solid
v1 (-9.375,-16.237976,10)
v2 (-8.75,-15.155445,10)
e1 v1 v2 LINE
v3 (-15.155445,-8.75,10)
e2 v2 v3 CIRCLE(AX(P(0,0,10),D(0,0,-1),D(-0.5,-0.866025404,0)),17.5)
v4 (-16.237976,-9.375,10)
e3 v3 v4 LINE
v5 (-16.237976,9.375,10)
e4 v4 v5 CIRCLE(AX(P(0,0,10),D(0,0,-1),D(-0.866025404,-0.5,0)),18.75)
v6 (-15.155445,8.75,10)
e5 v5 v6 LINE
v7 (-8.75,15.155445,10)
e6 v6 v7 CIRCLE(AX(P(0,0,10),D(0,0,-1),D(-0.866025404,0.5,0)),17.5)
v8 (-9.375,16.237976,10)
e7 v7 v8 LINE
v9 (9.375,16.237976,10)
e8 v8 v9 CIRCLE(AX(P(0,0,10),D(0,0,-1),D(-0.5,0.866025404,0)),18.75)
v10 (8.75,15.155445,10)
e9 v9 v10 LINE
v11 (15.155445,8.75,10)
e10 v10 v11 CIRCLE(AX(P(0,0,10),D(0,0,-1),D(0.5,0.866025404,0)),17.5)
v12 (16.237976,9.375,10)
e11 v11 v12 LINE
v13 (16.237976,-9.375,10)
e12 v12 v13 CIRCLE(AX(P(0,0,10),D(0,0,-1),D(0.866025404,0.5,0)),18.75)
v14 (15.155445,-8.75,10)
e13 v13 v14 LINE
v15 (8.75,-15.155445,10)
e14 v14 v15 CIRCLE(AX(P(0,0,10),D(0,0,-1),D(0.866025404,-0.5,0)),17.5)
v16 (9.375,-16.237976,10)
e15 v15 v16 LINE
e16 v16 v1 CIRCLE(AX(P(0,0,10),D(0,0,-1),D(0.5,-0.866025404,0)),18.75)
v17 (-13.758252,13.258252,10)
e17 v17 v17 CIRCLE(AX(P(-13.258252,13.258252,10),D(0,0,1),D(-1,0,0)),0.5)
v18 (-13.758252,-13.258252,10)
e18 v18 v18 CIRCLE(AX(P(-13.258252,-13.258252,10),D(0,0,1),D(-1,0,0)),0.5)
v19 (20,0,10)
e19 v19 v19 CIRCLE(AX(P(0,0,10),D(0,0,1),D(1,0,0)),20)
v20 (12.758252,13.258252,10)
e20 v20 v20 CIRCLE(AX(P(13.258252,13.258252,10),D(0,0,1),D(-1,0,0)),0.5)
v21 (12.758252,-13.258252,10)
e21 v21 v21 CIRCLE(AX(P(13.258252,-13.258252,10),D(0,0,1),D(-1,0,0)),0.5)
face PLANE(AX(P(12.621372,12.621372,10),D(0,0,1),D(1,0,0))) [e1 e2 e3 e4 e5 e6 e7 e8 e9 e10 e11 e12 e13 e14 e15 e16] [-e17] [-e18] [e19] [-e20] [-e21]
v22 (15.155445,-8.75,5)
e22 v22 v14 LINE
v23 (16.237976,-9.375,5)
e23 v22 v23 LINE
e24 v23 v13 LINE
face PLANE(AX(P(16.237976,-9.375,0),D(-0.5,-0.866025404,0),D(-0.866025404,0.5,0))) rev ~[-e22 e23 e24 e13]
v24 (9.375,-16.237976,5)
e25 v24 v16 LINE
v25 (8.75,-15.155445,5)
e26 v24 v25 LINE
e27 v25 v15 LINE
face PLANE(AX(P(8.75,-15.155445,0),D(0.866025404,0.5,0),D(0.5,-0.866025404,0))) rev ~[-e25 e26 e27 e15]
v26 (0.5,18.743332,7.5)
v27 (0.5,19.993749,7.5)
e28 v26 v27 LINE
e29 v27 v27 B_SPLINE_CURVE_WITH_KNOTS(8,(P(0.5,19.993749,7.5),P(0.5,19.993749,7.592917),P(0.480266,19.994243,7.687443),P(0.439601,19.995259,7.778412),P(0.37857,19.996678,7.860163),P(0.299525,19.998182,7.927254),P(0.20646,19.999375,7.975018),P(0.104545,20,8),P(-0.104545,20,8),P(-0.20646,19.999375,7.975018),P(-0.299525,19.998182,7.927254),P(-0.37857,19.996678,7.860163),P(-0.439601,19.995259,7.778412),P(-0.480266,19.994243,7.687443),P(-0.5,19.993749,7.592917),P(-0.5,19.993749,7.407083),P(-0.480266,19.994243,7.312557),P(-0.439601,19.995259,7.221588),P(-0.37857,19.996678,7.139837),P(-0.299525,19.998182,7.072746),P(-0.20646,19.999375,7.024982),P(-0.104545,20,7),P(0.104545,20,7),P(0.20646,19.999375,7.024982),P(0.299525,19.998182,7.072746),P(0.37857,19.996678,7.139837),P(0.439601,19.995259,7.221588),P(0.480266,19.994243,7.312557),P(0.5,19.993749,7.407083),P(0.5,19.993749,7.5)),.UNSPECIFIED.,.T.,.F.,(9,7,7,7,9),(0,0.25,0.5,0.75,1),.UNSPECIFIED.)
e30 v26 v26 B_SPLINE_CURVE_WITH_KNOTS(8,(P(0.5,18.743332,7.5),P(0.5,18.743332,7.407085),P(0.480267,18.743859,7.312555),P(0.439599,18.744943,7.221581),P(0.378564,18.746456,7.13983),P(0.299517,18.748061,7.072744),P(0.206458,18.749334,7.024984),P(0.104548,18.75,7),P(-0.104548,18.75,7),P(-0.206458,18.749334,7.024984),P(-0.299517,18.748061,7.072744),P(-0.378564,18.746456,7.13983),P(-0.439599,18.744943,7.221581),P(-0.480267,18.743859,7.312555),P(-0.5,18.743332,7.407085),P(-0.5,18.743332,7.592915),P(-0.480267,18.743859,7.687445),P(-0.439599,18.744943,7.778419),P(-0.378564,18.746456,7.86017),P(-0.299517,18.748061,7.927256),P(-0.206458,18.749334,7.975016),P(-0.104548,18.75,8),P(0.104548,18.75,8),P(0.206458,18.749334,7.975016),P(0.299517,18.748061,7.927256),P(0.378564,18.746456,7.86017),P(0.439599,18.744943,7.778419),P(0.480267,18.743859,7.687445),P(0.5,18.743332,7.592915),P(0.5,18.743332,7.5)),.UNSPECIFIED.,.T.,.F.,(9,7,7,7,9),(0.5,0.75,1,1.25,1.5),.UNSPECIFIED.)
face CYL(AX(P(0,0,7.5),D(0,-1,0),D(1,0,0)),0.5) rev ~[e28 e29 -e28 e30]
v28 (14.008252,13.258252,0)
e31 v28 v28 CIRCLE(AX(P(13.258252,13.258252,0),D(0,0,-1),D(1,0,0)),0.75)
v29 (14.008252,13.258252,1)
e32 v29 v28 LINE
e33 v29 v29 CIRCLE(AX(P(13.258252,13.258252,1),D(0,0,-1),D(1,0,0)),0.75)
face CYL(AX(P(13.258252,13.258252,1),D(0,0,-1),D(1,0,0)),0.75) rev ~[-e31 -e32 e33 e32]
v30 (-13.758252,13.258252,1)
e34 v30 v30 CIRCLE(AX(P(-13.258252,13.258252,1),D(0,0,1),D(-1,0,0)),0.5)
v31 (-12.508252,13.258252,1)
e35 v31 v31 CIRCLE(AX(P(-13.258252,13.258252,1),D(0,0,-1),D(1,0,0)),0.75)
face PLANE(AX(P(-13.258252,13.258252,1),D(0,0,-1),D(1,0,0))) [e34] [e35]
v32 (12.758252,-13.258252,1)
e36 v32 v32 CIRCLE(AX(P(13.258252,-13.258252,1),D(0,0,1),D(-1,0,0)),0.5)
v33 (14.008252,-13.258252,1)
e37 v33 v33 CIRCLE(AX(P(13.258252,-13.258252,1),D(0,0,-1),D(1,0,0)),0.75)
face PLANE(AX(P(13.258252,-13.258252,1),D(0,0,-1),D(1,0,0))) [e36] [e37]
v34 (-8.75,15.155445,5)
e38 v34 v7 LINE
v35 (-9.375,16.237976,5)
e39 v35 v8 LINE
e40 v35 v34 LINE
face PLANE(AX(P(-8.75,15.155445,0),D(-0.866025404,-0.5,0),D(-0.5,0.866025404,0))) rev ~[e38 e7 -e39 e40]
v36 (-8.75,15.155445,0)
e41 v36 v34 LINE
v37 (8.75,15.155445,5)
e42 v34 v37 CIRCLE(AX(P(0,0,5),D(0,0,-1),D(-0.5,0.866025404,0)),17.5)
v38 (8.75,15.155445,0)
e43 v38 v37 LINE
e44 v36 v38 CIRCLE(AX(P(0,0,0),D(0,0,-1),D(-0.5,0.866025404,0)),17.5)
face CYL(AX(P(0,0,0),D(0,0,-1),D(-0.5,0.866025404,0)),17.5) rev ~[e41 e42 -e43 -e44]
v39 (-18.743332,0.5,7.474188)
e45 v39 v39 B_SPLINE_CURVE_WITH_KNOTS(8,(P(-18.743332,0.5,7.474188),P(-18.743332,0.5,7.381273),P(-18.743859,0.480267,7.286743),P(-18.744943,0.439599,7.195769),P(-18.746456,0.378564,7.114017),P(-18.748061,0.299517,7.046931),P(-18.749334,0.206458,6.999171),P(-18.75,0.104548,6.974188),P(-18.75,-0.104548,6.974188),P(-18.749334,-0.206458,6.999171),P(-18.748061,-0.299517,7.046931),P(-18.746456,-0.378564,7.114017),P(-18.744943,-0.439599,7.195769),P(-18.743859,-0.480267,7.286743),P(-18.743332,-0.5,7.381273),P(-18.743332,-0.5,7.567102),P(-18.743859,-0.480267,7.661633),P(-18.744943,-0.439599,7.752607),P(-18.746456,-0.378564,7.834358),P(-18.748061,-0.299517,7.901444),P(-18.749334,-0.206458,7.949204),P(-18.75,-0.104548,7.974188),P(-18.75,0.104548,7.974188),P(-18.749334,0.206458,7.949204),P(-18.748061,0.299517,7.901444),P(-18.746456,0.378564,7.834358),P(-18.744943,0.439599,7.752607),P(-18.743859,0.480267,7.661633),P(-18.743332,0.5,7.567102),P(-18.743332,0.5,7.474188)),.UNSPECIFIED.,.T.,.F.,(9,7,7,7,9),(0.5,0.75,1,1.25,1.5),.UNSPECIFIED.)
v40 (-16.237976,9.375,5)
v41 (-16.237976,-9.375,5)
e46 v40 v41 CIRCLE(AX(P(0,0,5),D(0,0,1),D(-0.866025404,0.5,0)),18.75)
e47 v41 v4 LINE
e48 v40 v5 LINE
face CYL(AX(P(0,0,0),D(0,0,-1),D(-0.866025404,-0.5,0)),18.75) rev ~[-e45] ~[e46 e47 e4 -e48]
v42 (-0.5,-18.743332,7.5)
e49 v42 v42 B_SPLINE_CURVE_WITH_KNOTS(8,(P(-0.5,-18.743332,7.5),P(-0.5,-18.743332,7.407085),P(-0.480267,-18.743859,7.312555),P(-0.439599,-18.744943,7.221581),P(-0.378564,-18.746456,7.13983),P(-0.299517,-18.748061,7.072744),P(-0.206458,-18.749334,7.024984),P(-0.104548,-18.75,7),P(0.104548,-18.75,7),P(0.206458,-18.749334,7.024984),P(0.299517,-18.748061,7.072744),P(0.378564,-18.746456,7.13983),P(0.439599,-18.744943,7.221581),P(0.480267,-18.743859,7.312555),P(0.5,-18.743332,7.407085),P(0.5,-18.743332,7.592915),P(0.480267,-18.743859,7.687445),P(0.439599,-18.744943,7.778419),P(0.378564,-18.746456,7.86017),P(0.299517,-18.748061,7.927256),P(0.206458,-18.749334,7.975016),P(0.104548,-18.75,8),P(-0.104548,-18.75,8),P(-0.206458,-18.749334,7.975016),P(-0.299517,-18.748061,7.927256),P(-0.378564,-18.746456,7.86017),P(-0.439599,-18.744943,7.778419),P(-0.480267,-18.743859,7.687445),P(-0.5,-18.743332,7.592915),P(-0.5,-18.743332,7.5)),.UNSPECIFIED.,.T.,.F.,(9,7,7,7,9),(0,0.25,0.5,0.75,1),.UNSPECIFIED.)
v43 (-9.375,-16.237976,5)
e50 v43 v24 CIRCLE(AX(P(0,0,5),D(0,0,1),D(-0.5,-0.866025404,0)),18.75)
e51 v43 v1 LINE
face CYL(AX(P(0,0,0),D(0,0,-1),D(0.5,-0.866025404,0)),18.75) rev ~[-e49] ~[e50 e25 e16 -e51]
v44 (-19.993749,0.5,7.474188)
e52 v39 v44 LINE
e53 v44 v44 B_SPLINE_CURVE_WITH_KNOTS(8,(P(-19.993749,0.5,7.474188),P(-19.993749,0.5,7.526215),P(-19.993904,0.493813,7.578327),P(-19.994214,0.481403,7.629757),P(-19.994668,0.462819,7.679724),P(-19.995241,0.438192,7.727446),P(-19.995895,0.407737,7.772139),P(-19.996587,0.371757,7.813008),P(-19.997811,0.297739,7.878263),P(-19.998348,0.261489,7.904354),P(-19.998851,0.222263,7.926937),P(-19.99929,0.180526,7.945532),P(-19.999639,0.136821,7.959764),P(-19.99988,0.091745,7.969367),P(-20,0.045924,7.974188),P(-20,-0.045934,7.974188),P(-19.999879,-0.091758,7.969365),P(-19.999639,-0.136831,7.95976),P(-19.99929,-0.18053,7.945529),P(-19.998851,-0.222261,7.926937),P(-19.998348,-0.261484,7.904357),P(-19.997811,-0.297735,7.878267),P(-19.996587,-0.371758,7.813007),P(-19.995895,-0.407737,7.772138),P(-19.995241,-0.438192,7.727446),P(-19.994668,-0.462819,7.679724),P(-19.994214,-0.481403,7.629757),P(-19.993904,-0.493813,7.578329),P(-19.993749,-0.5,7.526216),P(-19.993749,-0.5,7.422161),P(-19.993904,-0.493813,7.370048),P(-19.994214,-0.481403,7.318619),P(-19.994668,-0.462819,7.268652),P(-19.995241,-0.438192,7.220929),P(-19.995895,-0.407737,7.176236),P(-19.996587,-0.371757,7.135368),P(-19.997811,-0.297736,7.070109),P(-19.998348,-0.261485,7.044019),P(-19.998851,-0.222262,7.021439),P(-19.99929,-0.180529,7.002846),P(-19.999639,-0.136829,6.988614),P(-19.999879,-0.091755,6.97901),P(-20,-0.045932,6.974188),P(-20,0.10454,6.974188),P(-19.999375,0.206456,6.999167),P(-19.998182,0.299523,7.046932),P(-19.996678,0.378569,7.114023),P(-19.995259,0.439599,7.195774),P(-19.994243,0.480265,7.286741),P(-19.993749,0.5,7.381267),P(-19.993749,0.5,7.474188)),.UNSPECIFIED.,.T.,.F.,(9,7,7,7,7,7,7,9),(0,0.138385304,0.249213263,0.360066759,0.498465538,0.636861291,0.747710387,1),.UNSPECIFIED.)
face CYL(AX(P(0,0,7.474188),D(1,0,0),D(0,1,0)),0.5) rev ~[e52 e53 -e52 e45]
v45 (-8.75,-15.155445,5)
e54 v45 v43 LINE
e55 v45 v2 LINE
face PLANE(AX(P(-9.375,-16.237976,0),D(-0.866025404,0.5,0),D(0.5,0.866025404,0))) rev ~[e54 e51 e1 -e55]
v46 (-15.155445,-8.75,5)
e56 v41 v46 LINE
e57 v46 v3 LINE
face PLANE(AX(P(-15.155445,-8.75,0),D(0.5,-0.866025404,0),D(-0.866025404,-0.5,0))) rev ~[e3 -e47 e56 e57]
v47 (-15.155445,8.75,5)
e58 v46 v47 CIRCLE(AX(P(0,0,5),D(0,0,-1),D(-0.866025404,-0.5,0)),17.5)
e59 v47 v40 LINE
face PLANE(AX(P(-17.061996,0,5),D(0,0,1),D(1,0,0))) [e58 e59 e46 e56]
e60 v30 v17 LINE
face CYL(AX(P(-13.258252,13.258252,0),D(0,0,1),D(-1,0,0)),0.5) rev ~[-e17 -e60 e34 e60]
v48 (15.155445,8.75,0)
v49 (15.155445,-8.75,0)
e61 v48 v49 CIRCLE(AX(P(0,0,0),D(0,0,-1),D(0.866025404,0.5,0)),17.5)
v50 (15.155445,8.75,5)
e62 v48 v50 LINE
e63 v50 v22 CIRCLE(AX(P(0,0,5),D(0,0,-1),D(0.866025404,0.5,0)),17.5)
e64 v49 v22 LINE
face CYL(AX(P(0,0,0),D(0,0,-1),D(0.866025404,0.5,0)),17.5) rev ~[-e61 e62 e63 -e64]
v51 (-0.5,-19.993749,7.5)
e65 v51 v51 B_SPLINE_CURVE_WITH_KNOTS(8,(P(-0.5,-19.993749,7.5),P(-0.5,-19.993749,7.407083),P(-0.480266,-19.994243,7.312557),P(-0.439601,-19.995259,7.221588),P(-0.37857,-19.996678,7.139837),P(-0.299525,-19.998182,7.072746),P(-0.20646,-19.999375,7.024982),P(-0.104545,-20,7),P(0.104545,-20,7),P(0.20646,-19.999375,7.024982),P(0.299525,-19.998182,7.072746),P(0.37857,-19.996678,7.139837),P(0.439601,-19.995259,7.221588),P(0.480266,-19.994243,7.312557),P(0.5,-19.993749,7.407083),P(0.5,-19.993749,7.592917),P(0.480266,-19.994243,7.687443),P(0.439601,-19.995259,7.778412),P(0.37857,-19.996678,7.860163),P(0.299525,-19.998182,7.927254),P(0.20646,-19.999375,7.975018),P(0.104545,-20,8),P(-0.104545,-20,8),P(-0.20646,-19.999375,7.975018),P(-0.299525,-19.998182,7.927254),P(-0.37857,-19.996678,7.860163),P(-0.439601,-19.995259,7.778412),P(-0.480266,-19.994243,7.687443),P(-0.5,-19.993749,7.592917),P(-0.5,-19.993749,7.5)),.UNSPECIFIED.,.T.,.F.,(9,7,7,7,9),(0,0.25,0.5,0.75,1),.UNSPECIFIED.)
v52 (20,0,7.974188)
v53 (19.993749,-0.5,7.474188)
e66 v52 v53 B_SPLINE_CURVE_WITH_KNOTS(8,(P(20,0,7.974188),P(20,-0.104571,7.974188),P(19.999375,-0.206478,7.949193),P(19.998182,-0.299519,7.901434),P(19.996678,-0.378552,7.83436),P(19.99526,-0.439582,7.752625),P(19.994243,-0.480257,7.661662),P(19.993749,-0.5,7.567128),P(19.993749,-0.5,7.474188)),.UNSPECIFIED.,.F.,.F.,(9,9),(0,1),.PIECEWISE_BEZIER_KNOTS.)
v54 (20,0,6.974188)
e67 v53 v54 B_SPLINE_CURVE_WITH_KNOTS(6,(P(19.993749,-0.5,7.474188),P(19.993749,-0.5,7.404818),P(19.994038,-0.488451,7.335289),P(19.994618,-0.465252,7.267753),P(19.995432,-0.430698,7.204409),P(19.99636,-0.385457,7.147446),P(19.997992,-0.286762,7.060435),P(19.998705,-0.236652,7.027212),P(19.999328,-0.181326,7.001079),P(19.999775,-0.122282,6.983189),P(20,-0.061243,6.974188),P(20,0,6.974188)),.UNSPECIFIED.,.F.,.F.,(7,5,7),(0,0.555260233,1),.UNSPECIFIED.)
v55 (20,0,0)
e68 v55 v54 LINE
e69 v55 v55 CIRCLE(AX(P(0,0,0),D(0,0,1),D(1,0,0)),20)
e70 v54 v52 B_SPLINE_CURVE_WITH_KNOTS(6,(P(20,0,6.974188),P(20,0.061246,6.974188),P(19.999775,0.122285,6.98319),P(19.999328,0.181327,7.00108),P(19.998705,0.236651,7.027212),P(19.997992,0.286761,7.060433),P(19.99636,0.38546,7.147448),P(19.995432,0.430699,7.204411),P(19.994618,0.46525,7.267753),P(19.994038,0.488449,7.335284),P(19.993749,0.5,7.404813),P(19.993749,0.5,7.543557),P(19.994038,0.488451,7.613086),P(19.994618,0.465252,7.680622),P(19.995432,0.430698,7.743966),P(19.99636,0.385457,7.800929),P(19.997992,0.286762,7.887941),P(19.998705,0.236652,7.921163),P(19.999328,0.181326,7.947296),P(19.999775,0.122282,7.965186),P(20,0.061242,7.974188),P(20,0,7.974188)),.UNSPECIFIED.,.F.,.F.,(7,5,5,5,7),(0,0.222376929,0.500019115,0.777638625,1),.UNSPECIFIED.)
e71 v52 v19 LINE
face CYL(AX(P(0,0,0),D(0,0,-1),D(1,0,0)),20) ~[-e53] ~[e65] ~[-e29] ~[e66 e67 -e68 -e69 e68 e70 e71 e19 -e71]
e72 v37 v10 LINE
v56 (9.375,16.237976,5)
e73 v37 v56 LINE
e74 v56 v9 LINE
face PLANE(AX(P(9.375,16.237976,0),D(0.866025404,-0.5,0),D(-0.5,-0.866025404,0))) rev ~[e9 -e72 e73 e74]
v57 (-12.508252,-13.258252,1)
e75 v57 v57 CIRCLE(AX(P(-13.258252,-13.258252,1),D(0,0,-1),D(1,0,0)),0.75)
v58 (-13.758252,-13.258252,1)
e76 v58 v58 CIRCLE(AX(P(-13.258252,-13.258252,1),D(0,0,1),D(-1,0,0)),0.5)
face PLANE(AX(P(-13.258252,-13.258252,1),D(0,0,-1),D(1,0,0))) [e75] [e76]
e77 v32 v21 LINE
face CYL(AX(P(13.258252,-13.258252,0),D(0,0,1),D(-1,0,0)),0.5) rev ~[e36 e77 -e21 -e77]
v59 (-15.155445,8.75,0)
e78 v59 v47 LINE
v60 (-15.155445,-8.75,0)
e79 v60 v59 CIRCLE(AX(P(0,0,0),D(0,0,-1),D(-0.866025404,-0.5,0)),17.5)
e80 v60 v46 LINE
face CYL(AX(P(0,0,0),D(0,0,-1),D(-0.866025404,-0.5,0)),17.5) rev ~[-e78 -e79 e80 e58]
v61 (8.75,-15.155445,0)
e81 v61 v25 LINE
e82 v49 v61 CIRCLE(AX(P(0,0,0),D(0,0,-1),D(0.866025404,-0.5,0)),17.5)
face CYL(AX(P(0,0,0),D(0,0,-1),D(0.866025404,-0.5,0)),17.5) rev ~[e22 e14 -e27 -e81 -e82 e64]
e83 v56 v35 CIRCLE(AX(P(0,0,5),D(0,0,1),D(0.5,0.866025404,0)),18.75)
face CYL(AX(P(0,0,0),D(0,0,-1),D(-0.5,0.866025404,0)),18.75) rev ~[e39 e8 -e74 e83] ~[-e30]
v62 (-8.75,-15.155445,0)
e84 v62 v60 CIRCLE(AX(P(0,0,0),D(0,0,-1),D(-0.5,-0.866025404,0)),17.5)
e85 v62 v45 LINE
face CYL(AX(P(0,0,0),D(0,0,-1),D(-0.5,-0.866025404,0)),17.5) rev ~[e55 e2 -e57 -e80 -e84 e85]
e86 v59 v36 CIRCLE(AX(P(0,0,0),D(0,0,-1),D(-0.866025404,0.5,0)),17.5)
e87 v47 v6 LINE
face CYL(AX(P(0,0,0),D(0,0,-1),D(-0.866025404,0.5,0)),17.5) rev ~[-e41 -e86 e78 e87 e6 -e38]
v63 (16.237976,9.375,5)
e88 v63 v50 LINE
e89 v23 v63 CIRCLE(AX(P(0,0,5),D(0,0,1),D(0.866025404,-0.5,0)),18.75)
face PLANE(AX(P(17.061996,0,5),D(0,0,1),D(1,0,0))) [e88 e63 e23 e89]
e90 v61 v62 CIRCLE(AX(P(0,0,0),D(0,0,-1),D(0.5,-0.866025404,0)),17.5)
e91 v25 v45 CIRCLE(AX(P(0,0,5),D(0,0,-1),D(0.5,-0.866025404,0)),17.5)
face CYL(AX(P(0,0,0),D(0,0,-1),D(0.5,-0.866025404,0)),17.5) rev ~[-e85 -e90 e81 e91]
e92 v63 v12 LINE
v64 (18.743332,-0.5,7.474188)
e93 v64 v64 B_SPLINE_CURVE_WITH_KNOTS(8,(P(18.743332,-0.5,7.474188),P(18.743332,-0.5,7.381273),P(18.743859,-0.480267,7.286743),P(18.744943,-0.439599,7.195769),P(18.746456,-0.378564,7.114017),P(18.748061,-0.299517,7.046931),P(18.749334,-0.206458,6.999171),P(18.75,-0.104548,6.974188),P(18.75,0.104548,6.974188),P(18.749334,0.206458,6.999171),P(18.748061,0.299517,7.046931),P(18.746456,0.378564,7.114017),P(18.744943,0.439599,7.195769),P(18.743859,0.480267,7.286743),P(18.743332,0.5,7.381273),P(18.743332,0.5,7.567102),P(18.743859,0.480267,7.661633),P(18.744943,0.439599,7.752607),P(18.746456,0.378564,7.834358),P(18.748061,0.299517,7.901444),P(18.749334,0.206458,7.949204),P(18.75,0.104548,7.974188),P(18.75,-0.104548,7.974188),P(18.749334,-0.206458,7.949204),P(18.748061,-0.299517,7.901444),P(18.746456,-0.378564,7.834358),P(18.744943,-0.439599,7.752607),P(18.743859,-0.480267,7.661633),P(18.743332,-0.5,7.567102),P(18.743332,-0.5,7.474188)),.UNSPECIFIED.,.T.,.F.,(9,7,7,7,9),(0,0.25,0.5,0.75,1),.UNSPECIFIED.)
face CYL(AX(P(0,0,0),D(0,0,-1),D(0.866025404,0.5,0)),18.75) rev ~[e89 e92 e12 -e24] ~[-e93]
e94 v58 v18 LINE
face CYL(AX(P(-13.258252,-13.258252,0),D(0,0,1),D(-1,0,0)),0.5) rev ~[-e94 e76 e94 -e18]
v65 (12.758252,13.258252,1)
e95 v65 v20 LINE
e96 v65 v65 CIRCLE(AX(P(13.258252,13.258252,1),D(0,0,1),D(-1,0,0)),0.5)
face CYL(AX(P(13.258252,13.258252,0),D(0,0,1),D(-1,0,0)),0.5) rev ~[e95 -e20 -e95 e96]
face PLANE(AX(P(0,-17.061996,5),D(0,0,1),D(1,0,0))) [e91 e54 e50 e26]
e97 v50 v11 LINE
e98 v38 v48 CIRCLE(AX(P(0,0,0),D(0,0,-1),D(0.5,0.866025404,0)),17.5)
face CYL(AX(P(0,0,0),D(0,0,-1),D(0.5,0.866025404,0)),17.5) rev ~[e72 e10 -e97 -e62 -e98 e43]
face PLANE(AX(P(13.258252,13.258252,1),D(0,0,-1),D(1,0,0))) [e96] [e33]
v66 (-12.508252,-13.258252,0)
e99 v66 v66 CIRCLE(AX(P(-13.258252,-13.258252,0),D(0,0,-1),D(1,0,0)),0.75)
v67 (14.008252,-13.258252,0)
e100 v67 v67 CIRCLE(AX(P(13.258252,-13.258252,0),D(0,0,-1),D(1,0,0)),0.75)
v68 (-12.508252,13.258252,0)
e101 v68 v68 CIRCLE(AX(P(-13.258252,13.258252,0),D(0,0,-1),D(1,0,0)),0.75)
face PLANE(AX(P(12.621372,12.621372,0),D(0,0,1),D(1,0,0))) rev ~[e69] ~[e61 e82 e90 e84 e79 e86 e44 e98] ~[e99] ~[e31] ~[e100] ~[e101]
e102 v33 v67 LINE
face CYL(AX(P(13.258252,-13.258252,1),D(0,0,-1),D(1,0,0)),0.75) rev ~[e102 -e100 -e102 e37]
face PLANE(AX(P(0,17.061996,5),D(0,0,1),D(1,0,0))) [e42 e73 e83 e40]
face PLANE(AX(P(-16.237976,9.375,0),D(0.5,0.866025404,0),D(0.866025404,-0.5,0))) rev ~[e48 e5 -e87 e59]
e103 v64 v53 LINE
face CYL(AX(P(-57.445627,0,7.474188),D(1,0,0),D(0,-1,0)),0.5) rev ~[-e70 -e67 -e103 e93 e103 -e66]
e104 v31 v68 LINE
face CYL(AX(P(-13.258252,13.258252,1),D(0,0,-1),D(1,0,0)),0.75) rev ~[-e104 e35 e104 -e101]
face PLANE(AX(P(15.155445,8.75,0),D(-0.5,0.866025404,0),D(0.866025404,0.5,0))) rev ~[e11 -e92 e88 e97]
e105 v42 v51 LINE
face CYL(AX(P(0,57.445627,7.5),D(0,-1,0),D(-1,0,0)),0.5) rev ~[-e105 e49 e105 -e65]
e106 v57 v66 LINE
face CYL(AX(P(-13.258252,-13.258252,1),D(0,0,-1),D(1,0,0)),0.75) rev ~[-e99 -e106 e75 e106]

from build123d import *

# Parameters (mm, degrees)
F0_R            = 20
F1_DEPTH        = 10
F2_DEPTH        = 5
F3_DEPTH        = 5
F4_DEPTH        = 5
F5_DEPTH        = 5
F6_DEPTH        = 10
F7_DEPTH        = 10
F8_DEPTH        = 10
F9_DEPTH        = 10
F12_D           = 1
F12_DEPTH       = 20.001
F13_D           = 1
F13_DEPTH       = 20.0010001
F14_D           = 1
F15_D           = 1
F16_D           = 1
F16_CBORE_D     = 1.5
F16_CBORE_DEPTH = 1
F17_D           = 1
F17_CBORE_D     = 1.5
F17_CBORE_DEPTH = 1
F18_D           = 1
F18_CBORE_D     = 1.5
F18_CBORE_DEPTH = 1
F19_D           = 1
F19_CBORE_D     = 1.5
F19_CBORE_DEPTH = 1


with BuildPart() as f1:
    # F0 (on Top) → F1 (new body)
    with BuildSketch(Plane.XY):
        Circle(F0_R)
        with BuildLine():
            ThreePointArc((-16.237976321, -9.375), (-18.75, 0), (-16.237976321, 9.375))
            ThreePointArc((-16.237976321, 9.375), (-13.2582521472, 13.2582521472), (-9.375, 16.237976321))
            ThreePointArc((-9.375, 16.237976321), (0, 18.75), (9.375, 16.237976321))
            ThreePointArc((9.375, 16.237976321), (13.2582521472, 13.2582521472), (16.237976321, 9.375))
            ThreePointArc((16.237976321, 9.375), (18.75, 0), (16.237976321, -9.375))
            ThreePointArc((16.237976321, -9.375), (13.2582521472, -13.2582521472), (9.375, -16.237976321))
            ThreePointArc((9.375, -16.237976321), (0, -18.75), (-9.375, -16.237976321))
            ThreePointArc((-9.375, -16.237976321), (-13.2582521472, -13.2582521472), (-16.237976321, -9.375))
        make_face(mode=Mode.SUBTRACT)
    extrude(amount=F1_DEPTH)

    # F0 (on Top) → F2 (join)
    with BuildSketch(Plane.XY):
        with BuildLine():
            ThreePointArc((-15.1554445662, -8.75), (-17.5, 0), (-15.1554445662, 8.75))
            Line((-15.1554445662, 8.75), (-16.237976321, 9.375))
            ThreePointArc((-16.237976321, 9.375), (-18.75, 0), (-16.237976321, -9.375))
            Line((-16.237976321, -9.375), (-15.1554445662, -8.75))
        make_face()
    extrude(amount=F2_DEPTH)

    # F0 (on Top) → F3 (join)
    with BuildSketch(Plane.XY):
        with BuildLine():
            Line((-9.375, 16.237976321), (-8.75, 15.1554445662))
            ThreePointArc((-8.75, 15.1554445662), (0, 17.5), (8.75, 15.1554445662))
            Line((8.75, 15.1554445662), (9.375, 16.237976321))
            ThreePointArc((9.375, 16.237976321), (0, 18.75), (-9.375, 16.237976321))
        make_face()
    extrude(amount=F3_DEPTH)

    # F0 (on Top) → F4 (join)
    with BuildSketch(Plane.XY):
        with BuildLine():
            ThreePointArc((8.75, -15.1554445662), (0, -17.5), (-8.75, -15.1554445662))
            Line((-8.75, -15.1554445662), (-9.375, -16.237976321))
            ThreePointArc((-9.375, -16.237976321), (0, -18.75), (9.375, -16.237976321))
            Line((9.375, -16.237976321), (8.75, -15.1554445662))
        make_face()
    extrude(amount=F4_DEPTH)

    # F0 (on Top) → F5 (join)
    with BuildSketch(Plane.XY):
        with BuildLine():
            Line((16.237976321, 9.375), (15.1554445662, 8.75))
            ThreePointArc((15.1554445662, 8.75), (17.5, 0), (15.1554445662, -8.75))
            Line((15.1554445662, -8.75), (16.237976321, -9.375))
            ThreePointArc((16.237976321, -9.375), (18.75, 0), (16.237976321, 9.375))
        make_face()
    extrude(amount=F5_DEPTH)

    # F0 (on Top) → F6 (join)
    with BuildSketch(Plane.XY):
        with BuildLine():
            Line((-16.237976321, 9.375), (-15.1554445662, 8.75))
            ThreePointArc((-15.1554445662, 8.75), (-12.3743686708, 12.3743686708), (-8.75, 15.1554445662))
            Line((-8.75, 15.1554445662), (-9.375, 16.237976321))
            ThreePointArc((-9.375, 16.237976321), (-13.2582521472, 13.2582521472), (-16.237976321, 9.375))
        make_face()
    extrude(amount=F6_DEPTH)

    # F0 (on Top) → F7 (join)
    with BuildSketch(Plane.XY):
        with BuildLine():
            ThreePointArc((-8.75, -15.1554445662), (-12.3743686708, -12.3743686708), (-15.1554445662, -8.75))
            Line((-15.1554445662, -8.75), (-16.237976321, -9.375))
            ThreePointArc((-16.237976321, -9.375), (-13.2582521472, -13.2582521472), (-9.375, -16.237976321))
            Line((-9.375, -16.237976321), (-8.75, -15.1554445662))
        make_face()
    extrude(amount=F7_DEPTH)

    # F0 (on Top) → F8 (join)
    with BuildSketch(Plane.XY):
        with BuildLine():
            ThreePointArc((15.1554445662, -8.75), (12.3743686708, -12.3743686708), (8.75, -15.1554445662))
            Line((8.75, -15.1554445662), (9.375, -16.237976321))
            ThreePointArc((9.375, -16.237976321), (13.2582521472, -13.2582521472), (16.237976321, -9.375))
            Line((16.237976321, -9.375), (15.1554445662, -8.75))
        make_face()
    extrude(amount=F8_DEPTH)

    # F0 (on Top) → F9 (join)
    with BuildSketch(Plane.XY):
        with BuildLine():
            Line((9.375, 16.237976321), (8.75, 15.1554445662))
            ThreePointArc((8.75, 15.1554445662), (12.3743686708, 12.3743686708), (15.1554445662, 8.75))
            Line((15.1554445662, 8.75), (16.237976321, 9.375))
            ThreePointArc((16.237976321, 9.375), (13.2582521472, 13.2582521472), (9.375, 16.237976321))
        make_face()
    extrude(amount=F9_DEPTH)

    # F12 (through all, one way)
    with BuildSketch(Plane.YZ):
        with Locations((0, 7.4741876426)):
            Circle(F12_D / 2)
    extrude(amount=-F12_DEPTH, mode=Mode.SUBTRACT)

    # F13 (through all, one way)
    with BuildSketch(Plane.XZ):
        with Locations((0, 7.5)):
            Circle(F13_D / 2)
    extrude(amount=-F13_DEPTH, mode=Mode.SUBTRACT)

    # F14 (through all)
    with Locations(Plane(origin=(0, 0, 0), x_dir=(1, 0, 0), z_dir=(0, 1, 0))):
        with Locations((0, -7.5)):
            Hole(F14_D / 2)

    # F15 (through all)
    with Locations(Plane(origin=(0, 0, 0), x_dir=(0, 1, 0), z_dir=(-1, 0, 0))):
        with Locations((0, -7.4741876426)):
            Hole(F15_D / 2)

    # F16 (through all)
    with Locations(Plane(origin=(0, 0, 0), x_dir=(1, 0, 0), z_dir=(0, 0, -1))):
        with Locations((-13.2582521472, 13.2582521472)):
            CounterBoreHole(F16_D / 2, F16_CBORE_D / 2, F16_CBORE_DEPTH)

    # F17 (through all)
    with Locations(Plane(origin=(0, 0, 0), x_dir=(1, 0, 0), z_dir=(0, 0, -1))):
        with Locations((13.2582521472, 13.2582521472)):
            CounterBoreHole(F17_D / 2, F17_CBORE_D / 2, F17_CBORE_DEPTH)

    # F18 (through all)
    with Locations(Plane(origin=(0, 0, 0), x_dir=(1, 0, 0), z_dir=(0, 0, -1))):
        with Locations((13.2582521472, -13.2582521472)):
            CounterBoreHole(F18_D / 2, F18_CBORE_D / 2, F18_CBORE_DEPTH)

    # F19 (through all)
    with Locations(Plane(origin=(0, 0, 0), x_dir=(1, 0, 0), z_dir=(0, 0, -1))):
        with Locations((-13.2582521472, -13.2582521472)):
            CounterBoreHole(F19_D / 2, F19_CBORE_D / 2, F19_CBORE_DEPTH)


solid = f1.part
